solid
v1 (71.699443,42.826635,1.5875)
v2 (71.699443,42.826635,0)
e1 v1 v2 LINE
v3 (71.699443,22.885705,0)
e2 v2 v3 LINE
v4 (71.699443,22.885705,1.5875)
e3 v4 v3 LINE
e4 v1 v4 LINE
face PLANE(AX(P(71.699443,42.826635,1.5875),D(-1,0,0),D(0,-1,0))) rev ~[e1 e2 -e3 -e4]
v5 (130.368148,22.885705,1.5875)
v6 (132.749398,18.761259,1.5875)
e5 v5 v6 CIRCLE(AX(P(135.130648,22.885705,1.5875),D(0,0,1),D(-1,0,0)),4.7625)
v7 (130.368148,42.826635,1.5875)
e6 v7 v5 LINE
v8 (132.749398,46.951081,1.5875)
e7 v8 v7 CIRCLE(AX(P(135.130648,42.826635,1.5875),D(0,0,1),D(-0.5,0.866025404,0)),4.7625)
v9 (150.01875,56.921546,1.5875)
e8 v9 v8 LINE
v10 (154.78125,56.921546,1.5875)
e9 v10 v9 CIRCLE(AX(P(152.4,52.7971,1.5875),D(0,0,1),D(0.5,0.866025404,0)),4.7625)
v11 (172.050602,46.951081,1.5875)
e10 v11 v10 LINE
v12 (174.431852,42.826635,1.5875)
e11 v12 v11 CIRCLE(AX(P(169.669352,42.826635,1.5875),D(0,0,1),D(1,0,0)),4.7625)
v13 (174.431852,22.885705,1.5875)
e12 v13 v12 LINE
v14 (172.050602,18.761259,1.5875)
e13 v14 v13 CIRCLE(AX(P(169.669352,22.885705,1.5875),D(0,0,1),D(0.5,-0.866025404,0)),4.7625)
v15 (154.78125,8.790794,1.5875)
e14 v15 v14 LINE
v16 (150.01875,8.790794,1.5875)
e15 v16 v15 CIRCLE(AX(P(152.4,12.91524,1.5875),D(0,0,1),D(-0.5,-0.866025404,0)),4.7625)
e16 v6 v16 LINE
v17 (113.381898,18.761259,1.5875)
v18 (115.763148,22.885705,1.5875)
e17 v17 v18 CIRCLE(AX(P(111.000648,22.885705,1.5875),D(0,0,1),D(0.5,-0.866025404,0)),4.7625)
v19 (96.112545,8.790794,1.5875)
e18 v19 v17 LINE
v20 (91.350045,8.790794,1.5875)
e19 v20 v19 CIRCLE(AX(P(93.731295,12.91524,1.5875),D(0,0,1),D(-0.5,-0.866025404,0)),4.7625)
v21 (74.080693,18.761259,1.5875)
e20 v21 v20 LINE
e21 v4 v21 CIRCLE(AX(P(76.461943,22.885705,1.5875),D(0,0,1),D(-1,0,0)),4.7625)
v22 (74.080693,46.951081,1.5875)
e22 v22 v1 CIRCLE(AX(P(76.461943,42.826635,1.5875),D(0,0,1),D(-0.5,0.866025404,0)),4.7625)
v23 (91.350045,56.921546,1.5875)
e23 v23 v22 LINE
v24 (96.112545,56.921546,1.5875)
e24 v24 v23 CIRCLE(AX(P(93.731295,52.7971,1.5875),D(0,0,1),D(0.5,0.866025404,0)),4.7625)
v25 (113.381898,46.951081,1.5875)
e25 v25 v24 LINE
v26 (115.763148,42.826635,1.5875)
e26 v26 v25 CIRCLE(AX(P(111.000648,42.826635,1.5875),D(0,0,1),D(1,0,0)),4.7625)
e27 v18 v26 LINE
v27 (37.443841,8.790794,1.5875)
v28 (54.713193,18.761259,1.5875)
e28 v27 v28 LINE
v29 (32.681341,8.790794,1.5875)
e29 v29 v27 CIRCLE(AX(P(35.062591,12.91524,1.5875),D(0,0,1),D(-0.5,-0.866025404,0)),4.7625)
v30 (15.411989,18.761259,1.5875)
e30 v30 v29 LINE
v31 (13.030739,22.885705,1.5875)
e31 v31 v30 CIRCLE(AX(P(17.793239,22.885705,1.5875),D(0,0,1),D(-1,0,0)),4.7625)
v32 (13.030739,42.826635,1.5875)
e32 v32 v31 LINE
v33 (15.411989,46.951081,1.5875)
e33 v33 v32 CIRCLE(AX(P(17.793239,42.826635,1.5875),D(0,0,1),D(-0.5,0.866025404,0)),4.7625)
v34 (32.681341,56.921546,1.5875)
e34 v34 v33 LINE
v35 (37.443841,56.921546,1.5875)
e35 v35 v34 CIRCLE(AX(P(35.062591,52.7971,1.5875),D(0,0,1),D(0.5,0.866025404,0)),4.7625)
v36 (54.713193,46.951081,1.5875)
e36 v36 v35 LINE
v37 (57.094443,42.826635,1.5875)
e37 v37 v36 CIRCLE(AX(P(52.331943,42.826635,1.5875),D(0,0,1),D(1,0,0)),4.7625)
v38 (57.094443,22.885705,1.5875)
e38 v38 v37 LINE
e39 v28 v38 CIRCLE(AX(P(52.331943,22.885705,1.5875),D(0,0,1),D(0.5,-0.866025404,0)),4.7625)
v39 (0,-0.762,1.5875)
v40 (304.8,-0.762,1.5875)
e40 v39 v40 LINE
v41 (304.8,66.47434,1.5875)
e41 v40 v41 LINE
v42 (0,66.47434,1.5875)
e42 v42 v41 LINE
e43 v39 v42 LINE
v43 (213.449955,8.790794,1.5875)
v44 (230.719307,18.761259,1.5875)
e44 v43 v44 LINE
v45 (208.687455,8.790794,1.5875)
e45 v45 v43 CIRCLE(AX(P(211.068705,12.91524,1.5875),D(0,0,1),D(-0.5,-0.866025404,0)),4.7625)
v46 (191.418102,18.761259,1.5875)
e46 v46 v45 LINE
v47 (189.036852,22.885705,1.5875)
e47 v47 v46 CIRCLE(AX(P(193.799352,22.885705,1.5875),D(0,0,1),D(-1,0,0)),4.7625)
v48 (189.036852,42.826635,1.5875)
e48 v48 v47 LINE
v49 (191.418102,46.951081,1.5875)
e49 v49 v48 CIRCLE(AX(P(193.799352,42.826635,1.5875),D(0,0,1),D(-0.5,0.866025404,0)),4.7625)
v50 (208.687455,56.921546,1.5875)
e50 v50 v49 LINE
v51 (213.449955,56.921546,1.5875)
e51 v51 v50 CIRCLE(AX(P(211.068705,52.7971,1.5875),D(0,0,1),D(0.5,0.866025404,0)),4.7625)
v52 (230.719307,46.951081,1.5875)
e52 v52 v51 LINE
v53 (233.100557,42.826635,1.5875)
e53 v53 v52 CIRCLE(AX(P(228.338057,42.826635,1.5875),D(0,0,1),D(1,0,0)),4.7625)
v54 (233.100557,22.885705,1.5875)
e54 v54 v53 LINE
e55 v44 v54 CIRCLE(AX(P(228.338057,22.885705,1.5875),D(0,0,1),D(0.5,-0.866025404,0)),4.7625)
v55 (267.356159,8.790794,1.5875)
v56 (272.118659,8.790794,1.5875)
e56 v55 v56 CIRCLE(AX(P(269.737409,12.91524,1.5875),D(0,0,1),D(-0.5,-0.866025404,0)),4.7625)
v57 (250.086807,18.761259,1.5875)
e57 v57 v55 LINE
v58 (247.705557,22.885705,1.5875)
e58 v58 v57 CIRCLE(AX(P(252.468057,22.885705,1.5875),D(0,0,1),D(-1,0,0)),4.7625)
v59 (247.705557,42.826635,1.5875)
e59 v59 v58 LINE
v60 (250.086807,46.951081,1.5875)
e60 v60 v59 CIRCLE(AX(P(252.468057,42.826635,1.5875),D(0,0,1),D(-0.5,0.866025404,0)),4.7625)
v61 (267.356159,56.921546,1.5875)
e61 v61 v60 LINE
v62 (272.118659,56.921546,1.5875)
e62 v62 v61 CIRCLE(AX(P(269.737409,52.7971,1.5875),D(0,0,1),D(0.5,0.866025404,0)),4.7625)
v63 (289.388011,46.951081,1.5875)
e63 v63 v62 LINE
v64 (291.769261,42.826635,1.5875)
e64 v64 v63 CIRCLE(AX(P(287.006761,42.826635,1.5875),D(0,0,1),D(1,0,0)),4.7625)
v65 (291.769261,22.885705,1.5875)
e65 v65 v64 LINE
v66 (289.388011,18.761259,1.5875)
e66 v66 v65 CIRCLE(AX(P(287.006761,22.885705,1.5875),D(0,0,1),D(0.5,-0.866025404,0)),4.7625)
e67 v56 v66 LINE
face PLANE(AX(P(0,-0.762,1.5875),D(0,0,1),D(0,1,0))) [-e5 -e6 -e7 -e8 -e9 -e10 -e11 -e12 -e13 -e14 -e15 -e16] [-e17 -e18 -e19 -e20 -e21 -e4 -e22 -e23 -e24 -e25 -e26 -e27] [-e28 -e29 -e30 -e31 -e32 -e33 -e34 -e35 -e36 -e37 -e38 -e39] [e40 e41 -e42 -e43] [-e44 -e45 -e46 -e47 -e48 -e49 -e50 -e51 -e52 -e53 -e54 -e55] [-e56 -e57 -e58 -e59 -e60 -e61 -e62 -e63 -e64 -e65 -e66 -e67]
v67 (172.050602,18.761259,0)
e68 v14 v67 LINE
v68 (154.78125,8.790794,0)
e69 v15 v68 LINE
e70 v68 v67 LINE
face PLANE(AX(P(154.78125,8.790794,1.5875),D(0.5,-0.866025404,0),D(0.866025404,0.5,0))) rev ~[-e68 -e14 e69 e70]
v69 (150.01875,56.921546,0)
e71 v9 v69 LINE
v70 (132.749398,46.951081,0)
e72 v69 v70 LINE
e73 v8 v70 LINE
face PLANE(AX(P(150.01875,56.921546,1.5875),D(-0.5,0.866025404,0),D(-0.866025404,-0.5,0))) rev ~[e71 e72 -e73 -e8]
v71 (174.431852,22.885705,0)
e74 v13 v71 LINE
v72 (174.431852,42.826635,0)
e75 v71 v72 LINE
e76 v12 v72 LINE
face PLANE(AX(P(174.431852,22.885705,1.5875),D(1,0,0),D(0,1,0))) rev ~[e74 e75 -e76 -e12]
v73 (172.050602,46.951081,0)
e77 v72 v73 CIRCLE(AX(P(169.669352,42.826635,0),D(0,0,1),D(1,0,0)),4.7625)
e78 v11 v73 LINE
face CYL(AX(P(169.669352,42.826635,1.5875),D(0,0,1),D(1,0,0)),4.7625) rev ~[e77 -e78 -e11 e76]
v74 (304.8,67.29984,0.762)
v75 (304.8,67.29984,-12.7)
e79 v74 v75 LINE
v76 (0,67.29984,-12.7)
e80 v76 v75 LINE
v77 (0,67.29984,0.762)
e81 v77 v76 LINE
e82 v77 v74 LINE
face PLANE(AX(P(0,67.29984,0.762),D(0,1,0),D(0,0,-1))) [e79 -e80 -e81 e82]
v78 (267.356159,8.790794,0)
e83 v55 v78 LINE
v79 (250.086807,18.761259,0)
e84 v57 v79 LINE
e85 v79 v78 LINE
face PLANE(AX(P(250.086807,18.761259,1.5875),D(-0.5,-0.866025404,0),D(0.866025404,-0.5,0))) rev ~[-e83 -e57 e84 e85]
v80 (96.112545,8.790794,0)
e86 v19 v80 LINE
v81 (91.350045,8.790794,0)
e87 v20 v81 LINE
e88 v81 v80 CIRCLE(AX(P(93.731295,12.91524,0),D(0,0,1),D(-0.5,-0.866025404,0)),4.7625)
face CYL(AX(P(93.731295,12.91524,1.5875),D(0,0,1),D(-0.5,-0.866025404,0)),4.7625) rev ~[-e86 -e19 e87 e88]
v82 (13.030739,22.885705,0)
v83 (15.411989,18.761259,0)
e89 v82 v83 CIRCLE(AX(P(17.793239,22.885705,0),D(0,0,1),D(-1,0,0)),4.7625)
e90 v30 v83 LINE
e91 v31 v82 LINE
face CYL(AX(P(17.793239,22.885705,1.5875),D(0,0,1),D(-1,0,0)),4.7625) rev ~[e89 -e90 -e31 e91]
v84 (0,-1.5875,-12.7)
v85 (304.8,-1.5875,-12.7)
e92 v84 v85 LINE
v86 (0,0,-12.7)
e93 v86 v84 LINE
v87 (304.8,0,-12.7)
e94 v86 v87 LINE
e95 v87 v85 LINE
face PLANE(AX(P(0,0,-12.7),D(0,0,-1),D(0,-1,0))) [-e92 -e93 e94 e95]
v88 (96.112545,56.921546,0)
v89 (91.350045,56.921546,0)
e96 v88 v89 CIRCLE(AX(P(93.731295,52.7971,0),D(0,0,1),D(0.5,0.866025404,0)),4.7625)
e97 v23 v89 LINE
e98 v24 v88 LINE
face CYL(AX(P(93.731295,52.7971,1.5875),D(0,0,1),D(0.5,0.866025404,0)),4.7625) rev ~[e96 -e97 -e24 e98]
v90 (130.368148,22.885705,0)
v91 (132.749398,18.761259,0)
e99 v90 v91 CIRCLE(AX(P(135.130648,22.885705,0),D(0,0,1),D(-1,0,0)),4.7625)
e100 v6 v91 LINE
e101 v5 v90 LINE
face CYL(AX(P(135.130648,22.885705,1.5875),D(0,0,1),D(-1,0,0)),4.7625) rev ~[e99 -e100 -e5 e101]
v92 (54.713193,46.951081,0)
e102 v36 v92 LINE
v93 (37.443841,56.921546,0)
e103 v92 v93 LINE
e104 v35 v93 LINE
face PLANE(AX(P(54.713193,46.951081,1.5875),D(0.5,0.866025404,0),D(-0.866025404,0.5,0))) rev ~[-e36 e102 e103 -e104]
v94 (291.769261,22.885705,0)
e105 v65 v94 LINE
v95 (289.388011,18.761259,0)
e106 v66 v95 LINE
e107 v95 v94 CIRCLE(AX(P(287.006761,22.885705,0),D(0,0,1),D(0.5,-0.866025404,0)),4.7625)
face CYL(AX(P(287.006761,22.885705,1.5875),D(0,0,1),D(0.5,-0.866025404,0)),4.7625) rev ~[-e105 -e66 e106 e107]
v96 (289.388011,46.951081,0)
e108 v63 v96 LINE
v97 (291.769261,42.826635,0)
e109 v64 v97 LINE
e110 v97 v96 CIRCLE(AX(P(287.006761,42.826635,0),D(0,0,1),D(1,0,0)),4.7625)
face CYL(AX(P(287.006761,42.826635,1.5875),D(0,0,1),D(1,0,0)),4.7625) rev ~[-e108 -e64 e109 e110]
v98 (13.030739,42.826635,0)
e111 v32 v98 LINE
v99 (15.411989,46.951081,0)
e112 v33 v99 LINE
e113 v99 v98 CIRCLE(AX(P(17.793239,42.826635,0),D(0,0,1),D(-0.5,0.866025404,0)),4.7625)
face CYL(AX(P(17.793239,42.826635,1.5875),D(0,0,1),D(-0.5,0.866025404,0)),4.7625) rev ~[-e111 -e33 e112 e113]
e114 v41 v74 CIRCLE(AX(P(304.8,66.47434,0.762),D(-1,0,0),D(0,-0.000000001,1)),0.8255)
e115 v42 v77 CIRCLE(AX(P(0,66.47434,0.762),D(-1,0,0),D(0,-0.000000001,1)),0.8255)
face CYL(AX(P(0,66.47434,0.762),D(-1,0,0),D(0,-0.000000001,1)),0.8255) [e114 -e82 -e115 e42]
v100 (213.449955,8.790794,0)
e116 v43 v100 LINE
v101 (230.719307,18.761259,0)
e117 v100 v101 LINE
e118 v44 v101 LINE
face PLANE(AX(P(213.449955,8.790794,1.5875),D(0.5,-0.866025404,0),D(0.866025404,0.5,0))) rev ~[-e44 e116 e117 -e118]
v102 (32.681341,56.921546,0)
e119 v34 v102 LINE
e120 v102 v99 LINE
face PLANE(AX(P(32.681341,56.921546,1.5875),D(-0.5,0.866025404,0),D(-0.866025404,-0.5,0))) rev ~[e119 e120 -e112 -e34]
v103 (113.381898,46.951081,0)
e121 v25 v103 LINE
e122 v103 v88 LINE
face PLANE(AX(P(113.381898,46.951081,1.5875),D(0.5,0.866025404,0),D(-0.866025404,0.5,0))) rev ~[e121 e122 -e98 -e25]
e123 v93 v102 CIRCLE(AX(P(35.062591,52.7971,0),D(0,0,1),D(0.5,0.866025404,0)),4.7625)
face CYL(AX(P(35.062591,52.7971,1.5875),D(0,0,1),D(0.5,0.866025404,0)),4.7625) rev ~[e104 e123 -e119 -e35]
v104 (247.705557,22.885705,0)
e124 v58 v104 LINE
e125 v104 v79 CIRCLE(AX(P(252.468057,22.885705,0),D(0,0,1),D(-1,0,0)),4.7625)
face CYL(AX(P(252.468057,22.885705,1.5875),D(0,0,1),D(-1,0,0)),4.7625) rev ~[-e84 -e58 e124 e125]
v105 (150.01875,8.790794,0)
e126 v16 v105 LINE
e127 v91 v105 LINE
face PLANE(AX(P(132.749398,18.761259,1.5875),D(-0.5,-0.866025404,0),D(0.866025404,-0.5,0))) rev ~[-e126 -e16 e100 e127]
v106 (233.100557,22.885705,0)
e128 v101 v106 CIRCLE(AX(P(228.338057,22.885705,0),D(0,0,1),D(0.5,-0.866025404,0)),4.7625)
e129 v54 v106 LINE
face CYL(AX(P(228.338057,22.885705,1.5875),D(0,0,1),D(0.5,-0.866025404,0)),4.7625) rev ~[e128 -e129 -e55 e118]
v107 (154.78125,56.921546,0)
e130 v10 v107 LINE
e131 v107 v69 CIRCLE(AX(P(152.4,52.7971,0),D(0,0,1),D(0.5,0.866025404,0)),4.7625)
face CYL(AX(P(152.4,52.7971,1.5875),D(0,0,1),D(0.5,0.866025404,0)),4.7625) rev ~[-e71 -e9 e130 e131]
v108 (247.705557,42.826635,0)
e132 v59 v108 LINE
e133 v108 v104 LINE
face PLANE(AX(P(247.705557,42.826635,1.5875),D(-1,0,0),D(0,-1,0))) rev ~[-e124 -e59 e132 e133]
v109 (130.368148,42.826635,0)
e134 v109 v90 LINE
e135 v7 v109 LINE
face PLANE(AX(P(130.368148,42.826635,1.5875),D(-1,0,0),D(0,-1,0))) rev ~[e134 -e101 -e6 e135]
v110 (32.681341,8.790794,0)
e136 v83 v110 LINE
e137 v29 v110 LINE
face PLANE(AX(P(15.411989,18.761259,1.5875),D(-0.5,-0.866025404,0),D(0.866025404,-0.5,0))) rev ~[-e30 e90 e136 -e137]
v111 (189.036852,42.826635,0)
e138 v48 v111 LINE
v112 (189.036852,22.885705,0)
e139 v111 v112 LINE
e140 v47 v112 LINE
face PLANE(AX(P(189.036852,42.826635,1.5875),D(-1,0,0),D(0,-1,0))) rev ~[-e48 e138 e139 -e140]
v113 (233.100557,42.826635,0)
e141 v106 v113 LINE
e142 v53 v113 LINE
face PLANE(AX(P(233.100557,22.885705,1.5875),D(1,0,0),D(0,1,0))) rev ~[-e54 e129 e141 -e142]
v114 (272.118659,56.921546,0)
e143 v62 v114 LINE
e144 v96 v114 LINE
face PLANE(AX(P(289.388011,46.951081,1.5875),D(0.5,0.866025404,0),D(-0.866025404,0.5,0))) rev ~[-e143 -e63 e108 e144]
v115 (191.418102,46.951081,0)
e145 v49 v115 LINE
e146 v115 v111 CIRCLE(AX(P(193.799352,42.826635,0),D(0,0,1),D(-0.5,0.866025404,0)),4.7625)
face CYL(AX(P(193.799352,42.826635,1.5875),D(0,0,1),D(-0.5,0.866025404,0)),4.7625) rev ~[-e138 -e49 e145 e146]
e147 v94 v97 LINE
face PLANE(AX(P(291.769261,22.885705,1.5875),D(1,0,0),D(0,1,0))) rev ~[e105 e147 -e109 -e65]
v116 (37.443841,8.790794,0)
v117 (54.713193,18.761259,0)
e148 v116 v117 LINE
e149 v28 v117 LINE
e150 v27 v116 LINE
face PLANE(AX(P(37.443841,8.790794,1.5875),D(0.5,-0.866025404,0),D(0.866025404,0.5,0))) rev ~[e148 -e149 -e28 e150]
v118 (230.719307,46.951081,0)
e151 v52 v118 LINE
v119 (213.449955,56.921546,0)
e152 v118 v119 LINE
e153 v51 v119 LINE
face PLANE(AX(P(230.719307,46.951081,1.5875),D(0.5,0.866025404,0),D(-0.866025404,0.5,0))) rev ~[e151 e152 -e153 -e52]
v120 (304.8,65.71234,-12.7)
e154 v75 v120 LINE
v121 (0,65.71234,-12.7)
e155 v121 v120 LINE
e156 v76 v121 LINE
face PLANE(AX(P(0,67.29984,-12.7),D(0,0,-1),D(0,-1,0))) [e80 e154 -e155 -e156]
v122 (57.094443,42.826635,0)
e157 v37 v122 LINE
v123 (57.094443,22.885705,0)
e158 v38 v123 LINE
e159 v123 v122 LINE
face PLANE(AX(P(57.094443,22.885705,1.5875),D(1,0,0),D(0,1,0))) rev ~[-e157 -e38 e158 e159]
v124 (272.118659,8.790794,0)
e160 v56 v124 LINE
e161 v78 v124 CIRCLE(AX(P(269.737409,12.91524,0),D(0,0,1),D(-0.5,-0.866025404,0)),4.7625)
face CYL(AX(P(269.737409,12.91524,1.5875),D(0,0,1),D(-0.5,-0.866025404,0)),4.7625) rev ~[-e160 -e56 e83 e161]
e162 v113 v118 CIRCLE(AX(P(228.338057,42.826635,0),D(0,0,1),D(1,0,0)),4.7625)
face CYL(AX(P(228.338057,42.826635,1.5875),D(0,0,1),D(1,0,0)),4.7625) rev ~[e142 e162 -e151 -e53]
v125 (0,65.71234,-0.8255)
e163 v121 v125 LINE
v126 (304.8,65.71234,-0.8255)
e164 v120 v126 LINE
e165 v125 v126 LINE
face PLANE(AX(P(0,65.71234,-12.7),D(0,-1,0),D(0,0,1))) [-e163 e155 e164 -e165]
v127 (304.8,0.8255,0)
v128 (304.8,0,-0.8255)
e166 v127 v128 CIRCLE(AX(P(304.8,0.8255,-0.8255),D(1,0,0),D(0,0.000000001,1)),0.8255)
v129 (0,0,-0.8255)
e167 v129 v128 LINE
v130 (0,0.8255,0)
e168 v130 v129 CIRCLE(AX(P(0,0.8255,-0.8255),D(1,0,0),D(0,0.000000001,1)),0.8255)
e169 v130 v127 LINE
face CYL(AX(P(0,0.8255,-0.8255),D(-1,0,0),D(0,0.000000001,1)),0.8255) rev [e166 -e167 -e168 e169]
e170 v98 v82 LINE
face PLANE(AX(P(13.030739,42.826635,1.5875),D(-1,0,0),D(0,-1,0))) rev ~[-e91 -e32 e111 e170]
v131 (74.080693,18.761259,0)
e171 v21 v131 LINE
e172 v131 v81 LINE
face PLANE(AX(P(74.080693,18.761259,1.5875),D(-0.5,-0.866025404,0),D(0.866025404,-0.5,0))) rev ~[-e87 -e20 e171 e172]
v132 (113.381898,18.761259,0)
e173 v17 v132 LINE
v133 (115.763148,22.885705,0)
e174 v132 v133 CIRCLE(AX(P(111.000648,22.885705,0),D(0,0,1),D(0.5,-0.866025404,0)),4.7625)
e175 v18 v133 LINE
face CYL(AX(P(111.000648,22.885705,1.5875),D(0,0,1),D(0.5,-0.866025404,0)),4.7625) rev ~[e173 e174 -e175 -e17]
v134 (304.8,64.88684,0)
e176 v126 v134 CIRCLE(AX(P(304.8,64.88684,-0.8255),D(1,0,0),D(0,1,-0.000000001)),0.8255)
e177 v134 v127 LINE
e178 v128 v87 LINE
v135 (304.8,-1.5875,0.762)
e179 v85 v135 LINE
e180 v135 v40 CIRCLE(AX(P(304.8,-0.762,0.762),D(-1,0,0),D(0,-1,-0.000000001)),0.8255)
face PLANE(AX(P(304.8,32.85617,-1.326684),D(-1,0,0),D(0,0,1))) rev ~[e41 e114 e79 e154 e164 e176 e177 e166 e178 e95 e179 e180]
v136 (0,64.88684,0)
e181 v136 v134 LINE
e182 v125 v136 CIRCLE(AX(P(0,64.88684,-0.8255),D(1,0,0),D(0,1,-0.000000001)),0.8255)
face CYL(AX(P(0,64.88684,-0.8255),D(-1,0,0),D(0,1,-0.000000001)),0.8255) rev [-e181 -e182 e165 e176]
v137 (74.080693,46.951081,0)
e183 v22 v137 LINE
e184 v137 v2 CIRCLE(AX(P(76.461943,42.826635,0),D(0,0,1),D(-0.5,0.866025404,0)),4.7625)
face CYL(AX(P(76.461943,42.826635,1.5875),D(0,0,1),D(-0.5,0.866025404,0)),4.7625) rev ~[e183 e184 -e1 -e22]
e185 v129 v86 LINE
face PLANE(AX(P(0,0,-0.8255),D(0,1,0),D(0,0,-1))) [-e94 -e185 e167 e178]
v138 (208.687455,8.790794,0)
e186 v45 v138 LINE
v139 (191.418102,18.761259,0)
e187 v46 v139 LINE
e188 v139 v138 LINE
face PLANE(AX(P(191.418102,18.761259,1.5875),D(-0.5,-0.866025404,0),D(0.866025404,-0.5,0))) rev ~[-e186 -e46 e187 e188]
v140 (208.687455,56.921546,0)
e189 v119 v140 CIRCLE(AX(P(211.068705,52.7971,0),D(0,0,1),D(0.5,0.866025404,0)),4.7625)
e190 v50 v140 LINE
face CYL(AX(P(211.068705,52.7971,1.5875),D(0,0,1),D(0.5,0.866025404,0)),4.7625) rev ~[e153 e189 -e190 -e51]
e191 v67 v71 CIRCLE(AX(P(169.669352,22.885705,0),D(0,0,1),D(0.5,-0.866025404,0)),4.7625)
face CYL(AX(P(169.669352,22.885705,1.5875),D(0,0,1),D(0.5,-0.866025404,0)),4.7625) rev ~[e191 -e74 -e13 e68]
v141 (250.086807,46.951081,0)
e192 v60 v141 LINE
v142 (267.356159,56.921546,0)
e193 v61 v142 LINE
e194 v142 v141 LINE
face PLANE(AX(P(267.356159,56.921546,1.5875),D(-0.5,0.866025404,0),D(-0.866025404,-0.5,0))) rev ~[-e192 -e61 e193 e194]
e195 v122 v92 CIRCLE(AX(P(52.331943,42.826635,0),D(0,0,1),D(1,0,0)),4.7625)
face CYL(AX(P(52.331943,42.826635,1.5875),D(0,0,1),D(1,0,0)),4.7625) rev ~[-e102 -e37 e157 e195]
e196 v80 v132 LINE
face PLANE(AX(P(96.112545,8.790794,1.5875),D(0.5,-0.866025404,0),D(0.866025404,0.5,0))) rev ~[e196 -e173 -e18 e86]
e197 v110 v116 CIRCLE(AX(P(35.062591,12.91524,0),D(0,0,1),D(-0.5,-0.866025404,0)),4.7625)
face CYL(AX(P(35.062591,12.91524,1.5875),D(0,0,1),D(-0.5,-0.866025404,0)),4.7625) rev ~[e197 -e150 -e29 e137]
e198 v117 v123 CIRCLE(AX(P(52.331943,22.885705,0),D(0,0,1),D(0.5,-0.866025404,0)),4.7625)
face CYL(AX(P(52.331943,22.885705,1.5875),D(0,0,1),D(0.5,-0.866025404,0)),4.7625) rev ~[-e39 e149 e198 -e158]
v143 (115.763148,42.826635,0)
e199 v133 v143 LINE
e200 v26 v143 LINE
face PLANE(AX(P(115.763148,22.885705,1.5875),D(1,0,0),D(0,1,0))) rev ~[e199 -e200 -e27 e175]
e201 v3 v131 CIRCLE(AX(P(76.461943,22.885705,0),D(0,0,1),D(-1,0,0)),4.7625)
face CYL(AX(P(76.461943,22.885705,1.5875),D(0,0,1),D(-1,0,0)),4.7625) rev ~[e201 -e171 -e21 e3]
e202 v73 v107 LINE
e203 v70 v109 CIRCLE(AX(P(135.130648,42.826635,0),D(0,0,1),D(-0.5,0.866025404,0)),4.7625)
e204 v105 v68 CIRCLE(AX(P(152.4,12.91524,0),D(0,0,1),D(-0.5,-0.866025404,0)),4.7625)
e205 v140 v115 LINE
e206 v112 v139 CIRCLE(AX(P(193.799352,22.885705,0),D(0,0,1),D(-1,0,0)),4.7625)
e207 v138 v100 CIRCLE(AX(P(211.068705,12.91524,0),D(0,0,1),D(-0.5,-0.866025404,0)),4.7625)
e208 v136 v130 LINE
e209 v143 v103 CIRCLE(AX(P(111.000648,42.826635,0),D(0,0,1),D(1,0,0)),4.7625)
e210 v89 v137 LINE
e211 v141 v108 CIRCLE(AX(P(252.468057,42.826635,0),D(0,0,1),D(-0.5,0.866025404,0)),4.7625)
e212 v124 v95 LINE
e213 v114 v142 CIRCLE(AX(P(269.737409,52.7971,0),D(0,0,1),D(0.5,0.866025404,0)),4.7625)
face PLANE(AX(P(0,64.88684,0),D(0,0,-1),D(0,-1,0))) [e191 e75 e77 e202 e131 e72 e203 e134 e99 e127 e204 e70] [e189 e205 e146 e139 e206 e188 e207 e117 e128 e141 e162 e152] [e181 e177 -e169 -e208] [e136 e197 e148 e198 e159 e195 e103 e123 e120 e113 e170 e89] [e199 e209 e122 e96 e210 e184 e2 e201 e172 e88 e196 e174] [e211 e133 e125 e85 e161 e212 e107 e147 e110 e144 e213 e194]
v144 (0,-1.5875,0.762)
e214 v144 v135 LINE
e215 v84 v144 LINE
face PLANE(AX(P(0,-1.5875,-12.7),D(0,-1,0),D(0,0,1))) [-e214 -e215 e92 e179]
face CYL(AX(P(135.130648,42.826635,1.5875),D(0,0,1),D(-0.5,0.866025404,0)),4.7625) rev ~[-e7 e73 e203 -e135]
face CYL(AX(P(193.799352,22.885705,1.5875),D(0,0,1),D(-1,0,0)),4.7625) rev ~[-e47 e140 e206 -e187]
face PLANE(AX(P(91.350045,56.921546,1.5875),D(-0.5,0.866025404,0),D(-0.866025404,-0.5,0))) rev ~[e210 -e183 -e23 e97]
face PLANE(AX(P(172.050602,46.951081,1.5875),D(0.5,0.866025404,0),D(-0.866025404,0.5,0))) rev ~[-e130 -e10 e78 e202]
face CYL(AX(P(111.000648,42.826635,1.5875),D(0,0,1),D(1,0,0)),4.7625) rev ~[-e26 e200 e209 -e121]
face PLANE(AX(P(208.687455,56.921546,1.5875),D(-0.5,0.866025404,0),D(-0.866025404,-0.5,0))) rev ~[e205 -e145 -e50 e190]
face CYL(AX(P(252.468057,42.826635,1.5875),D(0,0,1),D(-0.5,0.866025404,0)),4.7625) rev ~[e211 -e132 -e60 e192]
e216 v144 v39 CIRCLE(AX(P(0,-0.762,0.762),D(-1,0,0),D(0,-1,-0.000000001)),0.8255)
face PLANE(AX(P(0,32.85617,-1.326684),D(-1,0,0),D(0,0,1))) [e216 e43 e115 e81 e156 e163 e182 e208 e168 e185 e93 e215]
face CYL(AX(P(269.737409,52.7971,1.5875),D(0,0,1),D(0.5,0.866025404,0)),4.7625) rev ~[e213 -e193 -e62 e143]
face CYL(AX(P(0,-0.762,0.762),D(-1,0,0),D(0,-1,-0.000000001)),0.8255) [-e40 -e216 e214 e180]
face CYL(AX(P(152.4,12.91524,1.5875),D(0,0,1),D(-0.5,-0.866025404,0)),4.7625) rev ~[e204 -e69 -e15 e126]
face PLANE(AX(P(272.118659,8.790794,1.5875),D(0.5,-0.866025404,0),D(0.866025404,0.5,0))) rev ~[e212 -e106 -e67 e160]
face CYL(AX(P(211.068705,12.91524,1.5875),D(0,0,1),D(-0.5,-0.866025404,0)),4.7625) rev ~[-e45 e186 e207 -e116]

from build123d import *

# Parameters (mm, degrees)
BOSS_EXTRUDE1_DEPTH = 304.8
CUT_EXTRUDE1_REACH  = 16.288


with BuildPart() as part:
    # Sketch1 → Boss-Extrude1 (new body)
    with BuildSketch(Plane(origin=(0, 0, 0), x_dir=(0, 0, -1), z_dir=(1, 0, 0))):
        with BuildLine():
            Line((-0.762, 67.29984), (12.7, 67.29984))
            Line((12.7, 67.29984), (12.7, 65.71234))
            Line((12.7, 65.71234), (0.8255, 65.71234))
            ThreePointArc((0.8255, 65.71234), (0.241783352, 65.470556648), (0, 64.88684))
            Line((0, 64.88684), (0, 0.8255))
            ThreePointArc((0, 0.8255), (0.241783352, 0.241783352), (0.8255, 0))
            Line((0.8255, 0), (12.7, 0))
            Line((12.7, 0), (12.7, -1.5875))
            Line((12.7, -1.5875), (-0.762, -1.5875))
            ThreePointArc((-0.762, -1.5875), (-1.345716648, -1.345716648), (-1.5875, -0.762))
            Line((-1.5875, -0.762), (-1.5875, 66.47434))
            ThreePointArc((-1.5875, 66.47434), (-1.345716648, 67.058056648), (-0.762, 67.29984))
        make_face()
    extrude(amount=BOSS_EXTRUDE1_DEPTH)

    # Sketch2 → Cut-Extrude1 (cut, up to next)
    with BuildSketch(Plane.XY.offset(1.5875), mode=Mode.PRIVATE) as cut_extrude1_sk1:
        with BuildLine():
            Line((32.681340962, 56.921546337), (15.411988703, 46.951081161))
            ThreePointArc((15.411988703, 46.951081161), (13.668792717, 45.207885176), (13.030738703, 42.826635176))
            Line((13.030738703, 42.826635176), (13.030738703, 22.885704824))
            ThreePointArc((13.030738703, 22.885704824), (13.668792717, 20.504454824), (15.411988703, 18.761258839))
            Line((15.411988703, 18.761258839), (32.681340962, 8.790793663))
            ThreePointArc((32.681340962, 8.790793663), (35.062590962, 8.152739649), (37.443840962, 8.790793663))
            Line((37.443840962, 8.790793663), (54.713193222, 18.761258839))
            ThreePointArc((54.713193222, 18.761258839), (56.456389207, 20.504454824), (57.094443222, 22.885704824))
            Line((57.094443222, 22.885704824), (57.094443222, 42.826635176))
            ThreePointArc((57.094443222, 42.826635176), (56.456389207, 45.207885176), (54.713193222, 46.951081161))
            Line((54.713193222, 46.951081161), (37.443840962, 56.921546337))
            ThreePointArc((37.443840962, 56.921546337), (35.062590962, 57.559600351), (32.681340962, 56.921546337))
        make_face()
    cut_extrude1_tool1 = extrude(cut_extrude1_sk1.sketch, amount=-CUT_EXTRUDE1_REACH, mode=Mode.PRIVATE) & part.part
    add(cut_extrude1_tool1.solids().sort_by_distance((35.062591, 32.85617, 1.5875))[0], mode=Mode.SUBTRACT)
    # Sketch2 → Cut-Extrude1 (cut, up to next)
    with BuildSketch(Plane.XY.offset(1.5875), mode=Mode.PRIVATE) as cut_extrude1_sk2:
        with BuildLine():
            Line((91.350045481, 56.921546337), (74.080693222, 46.951081161))
            ThreePointArc((74.080693222, 46.951081161), (72.337497236, 45.207885176), (71.699443222, 42.826635176))
            Line((71.699443222, 42.826635176), (71.699443222, 22.885704824))
            ThreePointArc((71.699443222, 22.885704824), (72.337497236, 20.504454824), (74.080693222, 18.761258839))
            Line((74.080693222, 18.761258839), (91.350045481, 8.790793663))
            ThreePointArc((91.350045481, 8.790793663), (93.731295481, 8.152739649), (96.112545481, 8.790793663))
            Line((96.112545481, 8.790793663), (113.381897741, 18.761258839))
            ThreePointArc((113.381897741, 18.761258839), (115.125093726, 20.504454824), (115.763147741, 22.885704824))
            Line((115.763147741, 22.885704824), (115.763147741, 42.826635176))
            ThreePointArc((115.763147741, 42.826635176), (115.125093726, 45.207885176), (113.381897741, 46.951081161))
            Line((113.381897741, 46.951081161), (96.112545481, 56.921546337))
            ThreePointArc((96.112545481, 56.921546337), (93.731295481, 57.559600351), (91.350045481, 56.921546337))
        make_face()
    cut_extrude1_tool2 = extrude(cut_extrude1_sk2.sketch, amount=-CUT_EXTRUDE1_REACH, mode=Mode.PRIVATE) & part.part
    add(cut_extrude1_tool2.solids().sort_by_distance((93.731295, 32.85617, 1.5875))[0], mode=Mode.SUBTRACT)
    # Sketch2 → Cut-Extrude1 (cut, up to next)
    with BuildSketch(Plane.XY.offset(1.5875), mode=Mode.PRIVATE) as cut_extrude1_sk3:
        with BuildLine():
            Line((150.01875, 56.921546337), (132.749397741, 46.951081161))
            ThreePointArc((132.749397741, 46.951081161), (131.006201755, 45.207885176), (130.368147741, 42.826635176))
            Line((130.368147741, 42.826635176), (130.368147741, 22.885704824))
            ThreePointArc((130.368147741, 22.885704824), (131.006201755, 20.504454824), (132.749397741, 18.761258839))
            Line((132.749397741, 18.761258839), (150.01875, 8.790793663))
            ThreePointArc((150.01875, 8.790793663), (152.4, 8.152739649), (154.78125, 8.790793663))
            Line((154.78125, 8.790793663), (172.050602259, 18.761258839))
            ThreePointArc((172.050602259, 18.761258839), (173.793798245, 20.504454824), (174.431852259, 22.885704824))
            Line((174.431852259, 22.885704824), (174.431852259, 42.826635176))
            ThreePointArc((174.431852259, 42.826635176), (173.793798245, 45.207885176), (172.050602259, 46.951081161))
            Line((172.050602259, 46.951081161), (154.78125, 56.921546337))
            ThreePointArc((154.78125, 56.921546337), (152.4, 57.559600351), (150.01875, 56.921546337))
        make_face()
    cut_extrude1_tool3 = extrude(cut_extrude1_sk3.sketch, amount=-CUT_EXTRUDE1_REACH, mode=Mode.PRIVATE) & part.part
    add(cut_extrude1_tool3.solids().sort_by_distance((152.4, 32.85617, 1.5875))[0], mode=Mode.SUBTRACT)
    # Sketch2 → Cut-Extrude1 (cut, up to next)
    with BuildSketch(Plane.XY.offset(1.5875), mode=Mode.PRIVATE) as cut_extrude1_sk4:
        with BuildLine():
            Line((208.687454519, 56.921546337), (191.418102259, 46.951081161))
            ThreePointArc((191.418102259, 46.951081161), (189.674906274, 45.207885176), (189.036852259, 42.826635176))
            Line((189.036852259, 42.826635176), (189.036852259, 22.885704824))
            ThreePointArc((189.036852259, 22.885704824), (189.674906274, 20.504454824), (191.418102259, 18.761258839))
            Line((191.418102259, 18.761258839), (208.687454519, 8.790793663))
            ThreePointArc((208.687454519, 8.790793663), (211.068704519, 8.152739649), (213.449954519, 8.790793663))
            Line((213.449954519, 8.790793663), (230.719306778, 18.761258839))
            ThreePointArc((230.719306778, 18.761258839), (232.462502764, 20.504454824), (233.100556778, 22.885704824))
            Line((233.100556778, 22.885704824), (233.100556778, 42.826635176))
            ThreePointArc((233.100556778, 42.826635176), (232.462502764, 45.207885176), (230.719306778, 46.951081161))
            Line((230.719306778, 46.951081161), (213.449954519, 56.921546337))
            ThreePointArc((213.449954519, 56.921546337), (211.068704519, 57.559600351), (208.687454519, 56.921546337))
        make_face()
    cut_extrude1_tool4 = extrude(cut_extrude1_sk4.sketch, amount=-CUT_EXTRUDE1_REACH, mode=Mode.PRIVATE) & part.part
    add(cut_extrude1_tool4.solids().sort_by_distance((211.068705, 32.85617, 1.5875))[0], mode=Mode.SUBTRACT)
    # Sketch2 → Cut-Extrude1 (cut, up to next)
    with BuildSketch(Plane.XY.offset(1.5875), mode=Mode.PRIVATE) as cut_extrude1_sk5:
        with BuildLine():
            Line((267.356159038, 56.921546337), (250.086806778, 46.951081161))
            ThreePointArc((250.086806778, 46.951081161), (248.343610793, 45.207885176), (247.705556778, 42.826635176))
            Line((247.705556778, 42.826635176), (247.705556778, 22.885704824))
            ThreePointArc((247.705556778, 22.885704824), (248.343610793, 20.504454824), (250.086806778, 18.761258839))
            Line((250.086806778, 18.761258839), (267.356159038, 8.790793663))
            ThreePointArc((267.356159038, 8.790793663), (269.737409038, 8.152739649), (272.118659038, 8.790793663))
            Line((272.118659038, 8.790793663), (289.388011297, 18.761258839))
            ThreePointArc((289.388011297, 18.761258839), (291.131207283, 20.504454824), (291.769261297, 22.885704824))
            Line((291.769261297, 22.885704824), (291.769261297, 42.826635176))
            ThreePointArc((291.769261297, 42.826635176), (291.131207283, 45.207885176), (289.388011297, 46.951081161))
            Line((289.388011297, 46.951081161), (272.118659038, 56.921546337))
            ThreePointArc((272.118659038, 56.921546337), (269.737409038, 57.559600351), (267.356159038, 56.921546337))
        make_face()
    cut_extrude1_tool5 = extrude(cut_extrude1_sk5.sketch, amount=-CUT_EXTRUDE1_REACH, mode=Mode.PRIVATE) & part.part
    add(cut_extrude1_tool5.solids().sort_by_distance((269.737409, 32.85617, 1.5875))[0], mode=Mode.SUBTRACT)


solid = part.part
